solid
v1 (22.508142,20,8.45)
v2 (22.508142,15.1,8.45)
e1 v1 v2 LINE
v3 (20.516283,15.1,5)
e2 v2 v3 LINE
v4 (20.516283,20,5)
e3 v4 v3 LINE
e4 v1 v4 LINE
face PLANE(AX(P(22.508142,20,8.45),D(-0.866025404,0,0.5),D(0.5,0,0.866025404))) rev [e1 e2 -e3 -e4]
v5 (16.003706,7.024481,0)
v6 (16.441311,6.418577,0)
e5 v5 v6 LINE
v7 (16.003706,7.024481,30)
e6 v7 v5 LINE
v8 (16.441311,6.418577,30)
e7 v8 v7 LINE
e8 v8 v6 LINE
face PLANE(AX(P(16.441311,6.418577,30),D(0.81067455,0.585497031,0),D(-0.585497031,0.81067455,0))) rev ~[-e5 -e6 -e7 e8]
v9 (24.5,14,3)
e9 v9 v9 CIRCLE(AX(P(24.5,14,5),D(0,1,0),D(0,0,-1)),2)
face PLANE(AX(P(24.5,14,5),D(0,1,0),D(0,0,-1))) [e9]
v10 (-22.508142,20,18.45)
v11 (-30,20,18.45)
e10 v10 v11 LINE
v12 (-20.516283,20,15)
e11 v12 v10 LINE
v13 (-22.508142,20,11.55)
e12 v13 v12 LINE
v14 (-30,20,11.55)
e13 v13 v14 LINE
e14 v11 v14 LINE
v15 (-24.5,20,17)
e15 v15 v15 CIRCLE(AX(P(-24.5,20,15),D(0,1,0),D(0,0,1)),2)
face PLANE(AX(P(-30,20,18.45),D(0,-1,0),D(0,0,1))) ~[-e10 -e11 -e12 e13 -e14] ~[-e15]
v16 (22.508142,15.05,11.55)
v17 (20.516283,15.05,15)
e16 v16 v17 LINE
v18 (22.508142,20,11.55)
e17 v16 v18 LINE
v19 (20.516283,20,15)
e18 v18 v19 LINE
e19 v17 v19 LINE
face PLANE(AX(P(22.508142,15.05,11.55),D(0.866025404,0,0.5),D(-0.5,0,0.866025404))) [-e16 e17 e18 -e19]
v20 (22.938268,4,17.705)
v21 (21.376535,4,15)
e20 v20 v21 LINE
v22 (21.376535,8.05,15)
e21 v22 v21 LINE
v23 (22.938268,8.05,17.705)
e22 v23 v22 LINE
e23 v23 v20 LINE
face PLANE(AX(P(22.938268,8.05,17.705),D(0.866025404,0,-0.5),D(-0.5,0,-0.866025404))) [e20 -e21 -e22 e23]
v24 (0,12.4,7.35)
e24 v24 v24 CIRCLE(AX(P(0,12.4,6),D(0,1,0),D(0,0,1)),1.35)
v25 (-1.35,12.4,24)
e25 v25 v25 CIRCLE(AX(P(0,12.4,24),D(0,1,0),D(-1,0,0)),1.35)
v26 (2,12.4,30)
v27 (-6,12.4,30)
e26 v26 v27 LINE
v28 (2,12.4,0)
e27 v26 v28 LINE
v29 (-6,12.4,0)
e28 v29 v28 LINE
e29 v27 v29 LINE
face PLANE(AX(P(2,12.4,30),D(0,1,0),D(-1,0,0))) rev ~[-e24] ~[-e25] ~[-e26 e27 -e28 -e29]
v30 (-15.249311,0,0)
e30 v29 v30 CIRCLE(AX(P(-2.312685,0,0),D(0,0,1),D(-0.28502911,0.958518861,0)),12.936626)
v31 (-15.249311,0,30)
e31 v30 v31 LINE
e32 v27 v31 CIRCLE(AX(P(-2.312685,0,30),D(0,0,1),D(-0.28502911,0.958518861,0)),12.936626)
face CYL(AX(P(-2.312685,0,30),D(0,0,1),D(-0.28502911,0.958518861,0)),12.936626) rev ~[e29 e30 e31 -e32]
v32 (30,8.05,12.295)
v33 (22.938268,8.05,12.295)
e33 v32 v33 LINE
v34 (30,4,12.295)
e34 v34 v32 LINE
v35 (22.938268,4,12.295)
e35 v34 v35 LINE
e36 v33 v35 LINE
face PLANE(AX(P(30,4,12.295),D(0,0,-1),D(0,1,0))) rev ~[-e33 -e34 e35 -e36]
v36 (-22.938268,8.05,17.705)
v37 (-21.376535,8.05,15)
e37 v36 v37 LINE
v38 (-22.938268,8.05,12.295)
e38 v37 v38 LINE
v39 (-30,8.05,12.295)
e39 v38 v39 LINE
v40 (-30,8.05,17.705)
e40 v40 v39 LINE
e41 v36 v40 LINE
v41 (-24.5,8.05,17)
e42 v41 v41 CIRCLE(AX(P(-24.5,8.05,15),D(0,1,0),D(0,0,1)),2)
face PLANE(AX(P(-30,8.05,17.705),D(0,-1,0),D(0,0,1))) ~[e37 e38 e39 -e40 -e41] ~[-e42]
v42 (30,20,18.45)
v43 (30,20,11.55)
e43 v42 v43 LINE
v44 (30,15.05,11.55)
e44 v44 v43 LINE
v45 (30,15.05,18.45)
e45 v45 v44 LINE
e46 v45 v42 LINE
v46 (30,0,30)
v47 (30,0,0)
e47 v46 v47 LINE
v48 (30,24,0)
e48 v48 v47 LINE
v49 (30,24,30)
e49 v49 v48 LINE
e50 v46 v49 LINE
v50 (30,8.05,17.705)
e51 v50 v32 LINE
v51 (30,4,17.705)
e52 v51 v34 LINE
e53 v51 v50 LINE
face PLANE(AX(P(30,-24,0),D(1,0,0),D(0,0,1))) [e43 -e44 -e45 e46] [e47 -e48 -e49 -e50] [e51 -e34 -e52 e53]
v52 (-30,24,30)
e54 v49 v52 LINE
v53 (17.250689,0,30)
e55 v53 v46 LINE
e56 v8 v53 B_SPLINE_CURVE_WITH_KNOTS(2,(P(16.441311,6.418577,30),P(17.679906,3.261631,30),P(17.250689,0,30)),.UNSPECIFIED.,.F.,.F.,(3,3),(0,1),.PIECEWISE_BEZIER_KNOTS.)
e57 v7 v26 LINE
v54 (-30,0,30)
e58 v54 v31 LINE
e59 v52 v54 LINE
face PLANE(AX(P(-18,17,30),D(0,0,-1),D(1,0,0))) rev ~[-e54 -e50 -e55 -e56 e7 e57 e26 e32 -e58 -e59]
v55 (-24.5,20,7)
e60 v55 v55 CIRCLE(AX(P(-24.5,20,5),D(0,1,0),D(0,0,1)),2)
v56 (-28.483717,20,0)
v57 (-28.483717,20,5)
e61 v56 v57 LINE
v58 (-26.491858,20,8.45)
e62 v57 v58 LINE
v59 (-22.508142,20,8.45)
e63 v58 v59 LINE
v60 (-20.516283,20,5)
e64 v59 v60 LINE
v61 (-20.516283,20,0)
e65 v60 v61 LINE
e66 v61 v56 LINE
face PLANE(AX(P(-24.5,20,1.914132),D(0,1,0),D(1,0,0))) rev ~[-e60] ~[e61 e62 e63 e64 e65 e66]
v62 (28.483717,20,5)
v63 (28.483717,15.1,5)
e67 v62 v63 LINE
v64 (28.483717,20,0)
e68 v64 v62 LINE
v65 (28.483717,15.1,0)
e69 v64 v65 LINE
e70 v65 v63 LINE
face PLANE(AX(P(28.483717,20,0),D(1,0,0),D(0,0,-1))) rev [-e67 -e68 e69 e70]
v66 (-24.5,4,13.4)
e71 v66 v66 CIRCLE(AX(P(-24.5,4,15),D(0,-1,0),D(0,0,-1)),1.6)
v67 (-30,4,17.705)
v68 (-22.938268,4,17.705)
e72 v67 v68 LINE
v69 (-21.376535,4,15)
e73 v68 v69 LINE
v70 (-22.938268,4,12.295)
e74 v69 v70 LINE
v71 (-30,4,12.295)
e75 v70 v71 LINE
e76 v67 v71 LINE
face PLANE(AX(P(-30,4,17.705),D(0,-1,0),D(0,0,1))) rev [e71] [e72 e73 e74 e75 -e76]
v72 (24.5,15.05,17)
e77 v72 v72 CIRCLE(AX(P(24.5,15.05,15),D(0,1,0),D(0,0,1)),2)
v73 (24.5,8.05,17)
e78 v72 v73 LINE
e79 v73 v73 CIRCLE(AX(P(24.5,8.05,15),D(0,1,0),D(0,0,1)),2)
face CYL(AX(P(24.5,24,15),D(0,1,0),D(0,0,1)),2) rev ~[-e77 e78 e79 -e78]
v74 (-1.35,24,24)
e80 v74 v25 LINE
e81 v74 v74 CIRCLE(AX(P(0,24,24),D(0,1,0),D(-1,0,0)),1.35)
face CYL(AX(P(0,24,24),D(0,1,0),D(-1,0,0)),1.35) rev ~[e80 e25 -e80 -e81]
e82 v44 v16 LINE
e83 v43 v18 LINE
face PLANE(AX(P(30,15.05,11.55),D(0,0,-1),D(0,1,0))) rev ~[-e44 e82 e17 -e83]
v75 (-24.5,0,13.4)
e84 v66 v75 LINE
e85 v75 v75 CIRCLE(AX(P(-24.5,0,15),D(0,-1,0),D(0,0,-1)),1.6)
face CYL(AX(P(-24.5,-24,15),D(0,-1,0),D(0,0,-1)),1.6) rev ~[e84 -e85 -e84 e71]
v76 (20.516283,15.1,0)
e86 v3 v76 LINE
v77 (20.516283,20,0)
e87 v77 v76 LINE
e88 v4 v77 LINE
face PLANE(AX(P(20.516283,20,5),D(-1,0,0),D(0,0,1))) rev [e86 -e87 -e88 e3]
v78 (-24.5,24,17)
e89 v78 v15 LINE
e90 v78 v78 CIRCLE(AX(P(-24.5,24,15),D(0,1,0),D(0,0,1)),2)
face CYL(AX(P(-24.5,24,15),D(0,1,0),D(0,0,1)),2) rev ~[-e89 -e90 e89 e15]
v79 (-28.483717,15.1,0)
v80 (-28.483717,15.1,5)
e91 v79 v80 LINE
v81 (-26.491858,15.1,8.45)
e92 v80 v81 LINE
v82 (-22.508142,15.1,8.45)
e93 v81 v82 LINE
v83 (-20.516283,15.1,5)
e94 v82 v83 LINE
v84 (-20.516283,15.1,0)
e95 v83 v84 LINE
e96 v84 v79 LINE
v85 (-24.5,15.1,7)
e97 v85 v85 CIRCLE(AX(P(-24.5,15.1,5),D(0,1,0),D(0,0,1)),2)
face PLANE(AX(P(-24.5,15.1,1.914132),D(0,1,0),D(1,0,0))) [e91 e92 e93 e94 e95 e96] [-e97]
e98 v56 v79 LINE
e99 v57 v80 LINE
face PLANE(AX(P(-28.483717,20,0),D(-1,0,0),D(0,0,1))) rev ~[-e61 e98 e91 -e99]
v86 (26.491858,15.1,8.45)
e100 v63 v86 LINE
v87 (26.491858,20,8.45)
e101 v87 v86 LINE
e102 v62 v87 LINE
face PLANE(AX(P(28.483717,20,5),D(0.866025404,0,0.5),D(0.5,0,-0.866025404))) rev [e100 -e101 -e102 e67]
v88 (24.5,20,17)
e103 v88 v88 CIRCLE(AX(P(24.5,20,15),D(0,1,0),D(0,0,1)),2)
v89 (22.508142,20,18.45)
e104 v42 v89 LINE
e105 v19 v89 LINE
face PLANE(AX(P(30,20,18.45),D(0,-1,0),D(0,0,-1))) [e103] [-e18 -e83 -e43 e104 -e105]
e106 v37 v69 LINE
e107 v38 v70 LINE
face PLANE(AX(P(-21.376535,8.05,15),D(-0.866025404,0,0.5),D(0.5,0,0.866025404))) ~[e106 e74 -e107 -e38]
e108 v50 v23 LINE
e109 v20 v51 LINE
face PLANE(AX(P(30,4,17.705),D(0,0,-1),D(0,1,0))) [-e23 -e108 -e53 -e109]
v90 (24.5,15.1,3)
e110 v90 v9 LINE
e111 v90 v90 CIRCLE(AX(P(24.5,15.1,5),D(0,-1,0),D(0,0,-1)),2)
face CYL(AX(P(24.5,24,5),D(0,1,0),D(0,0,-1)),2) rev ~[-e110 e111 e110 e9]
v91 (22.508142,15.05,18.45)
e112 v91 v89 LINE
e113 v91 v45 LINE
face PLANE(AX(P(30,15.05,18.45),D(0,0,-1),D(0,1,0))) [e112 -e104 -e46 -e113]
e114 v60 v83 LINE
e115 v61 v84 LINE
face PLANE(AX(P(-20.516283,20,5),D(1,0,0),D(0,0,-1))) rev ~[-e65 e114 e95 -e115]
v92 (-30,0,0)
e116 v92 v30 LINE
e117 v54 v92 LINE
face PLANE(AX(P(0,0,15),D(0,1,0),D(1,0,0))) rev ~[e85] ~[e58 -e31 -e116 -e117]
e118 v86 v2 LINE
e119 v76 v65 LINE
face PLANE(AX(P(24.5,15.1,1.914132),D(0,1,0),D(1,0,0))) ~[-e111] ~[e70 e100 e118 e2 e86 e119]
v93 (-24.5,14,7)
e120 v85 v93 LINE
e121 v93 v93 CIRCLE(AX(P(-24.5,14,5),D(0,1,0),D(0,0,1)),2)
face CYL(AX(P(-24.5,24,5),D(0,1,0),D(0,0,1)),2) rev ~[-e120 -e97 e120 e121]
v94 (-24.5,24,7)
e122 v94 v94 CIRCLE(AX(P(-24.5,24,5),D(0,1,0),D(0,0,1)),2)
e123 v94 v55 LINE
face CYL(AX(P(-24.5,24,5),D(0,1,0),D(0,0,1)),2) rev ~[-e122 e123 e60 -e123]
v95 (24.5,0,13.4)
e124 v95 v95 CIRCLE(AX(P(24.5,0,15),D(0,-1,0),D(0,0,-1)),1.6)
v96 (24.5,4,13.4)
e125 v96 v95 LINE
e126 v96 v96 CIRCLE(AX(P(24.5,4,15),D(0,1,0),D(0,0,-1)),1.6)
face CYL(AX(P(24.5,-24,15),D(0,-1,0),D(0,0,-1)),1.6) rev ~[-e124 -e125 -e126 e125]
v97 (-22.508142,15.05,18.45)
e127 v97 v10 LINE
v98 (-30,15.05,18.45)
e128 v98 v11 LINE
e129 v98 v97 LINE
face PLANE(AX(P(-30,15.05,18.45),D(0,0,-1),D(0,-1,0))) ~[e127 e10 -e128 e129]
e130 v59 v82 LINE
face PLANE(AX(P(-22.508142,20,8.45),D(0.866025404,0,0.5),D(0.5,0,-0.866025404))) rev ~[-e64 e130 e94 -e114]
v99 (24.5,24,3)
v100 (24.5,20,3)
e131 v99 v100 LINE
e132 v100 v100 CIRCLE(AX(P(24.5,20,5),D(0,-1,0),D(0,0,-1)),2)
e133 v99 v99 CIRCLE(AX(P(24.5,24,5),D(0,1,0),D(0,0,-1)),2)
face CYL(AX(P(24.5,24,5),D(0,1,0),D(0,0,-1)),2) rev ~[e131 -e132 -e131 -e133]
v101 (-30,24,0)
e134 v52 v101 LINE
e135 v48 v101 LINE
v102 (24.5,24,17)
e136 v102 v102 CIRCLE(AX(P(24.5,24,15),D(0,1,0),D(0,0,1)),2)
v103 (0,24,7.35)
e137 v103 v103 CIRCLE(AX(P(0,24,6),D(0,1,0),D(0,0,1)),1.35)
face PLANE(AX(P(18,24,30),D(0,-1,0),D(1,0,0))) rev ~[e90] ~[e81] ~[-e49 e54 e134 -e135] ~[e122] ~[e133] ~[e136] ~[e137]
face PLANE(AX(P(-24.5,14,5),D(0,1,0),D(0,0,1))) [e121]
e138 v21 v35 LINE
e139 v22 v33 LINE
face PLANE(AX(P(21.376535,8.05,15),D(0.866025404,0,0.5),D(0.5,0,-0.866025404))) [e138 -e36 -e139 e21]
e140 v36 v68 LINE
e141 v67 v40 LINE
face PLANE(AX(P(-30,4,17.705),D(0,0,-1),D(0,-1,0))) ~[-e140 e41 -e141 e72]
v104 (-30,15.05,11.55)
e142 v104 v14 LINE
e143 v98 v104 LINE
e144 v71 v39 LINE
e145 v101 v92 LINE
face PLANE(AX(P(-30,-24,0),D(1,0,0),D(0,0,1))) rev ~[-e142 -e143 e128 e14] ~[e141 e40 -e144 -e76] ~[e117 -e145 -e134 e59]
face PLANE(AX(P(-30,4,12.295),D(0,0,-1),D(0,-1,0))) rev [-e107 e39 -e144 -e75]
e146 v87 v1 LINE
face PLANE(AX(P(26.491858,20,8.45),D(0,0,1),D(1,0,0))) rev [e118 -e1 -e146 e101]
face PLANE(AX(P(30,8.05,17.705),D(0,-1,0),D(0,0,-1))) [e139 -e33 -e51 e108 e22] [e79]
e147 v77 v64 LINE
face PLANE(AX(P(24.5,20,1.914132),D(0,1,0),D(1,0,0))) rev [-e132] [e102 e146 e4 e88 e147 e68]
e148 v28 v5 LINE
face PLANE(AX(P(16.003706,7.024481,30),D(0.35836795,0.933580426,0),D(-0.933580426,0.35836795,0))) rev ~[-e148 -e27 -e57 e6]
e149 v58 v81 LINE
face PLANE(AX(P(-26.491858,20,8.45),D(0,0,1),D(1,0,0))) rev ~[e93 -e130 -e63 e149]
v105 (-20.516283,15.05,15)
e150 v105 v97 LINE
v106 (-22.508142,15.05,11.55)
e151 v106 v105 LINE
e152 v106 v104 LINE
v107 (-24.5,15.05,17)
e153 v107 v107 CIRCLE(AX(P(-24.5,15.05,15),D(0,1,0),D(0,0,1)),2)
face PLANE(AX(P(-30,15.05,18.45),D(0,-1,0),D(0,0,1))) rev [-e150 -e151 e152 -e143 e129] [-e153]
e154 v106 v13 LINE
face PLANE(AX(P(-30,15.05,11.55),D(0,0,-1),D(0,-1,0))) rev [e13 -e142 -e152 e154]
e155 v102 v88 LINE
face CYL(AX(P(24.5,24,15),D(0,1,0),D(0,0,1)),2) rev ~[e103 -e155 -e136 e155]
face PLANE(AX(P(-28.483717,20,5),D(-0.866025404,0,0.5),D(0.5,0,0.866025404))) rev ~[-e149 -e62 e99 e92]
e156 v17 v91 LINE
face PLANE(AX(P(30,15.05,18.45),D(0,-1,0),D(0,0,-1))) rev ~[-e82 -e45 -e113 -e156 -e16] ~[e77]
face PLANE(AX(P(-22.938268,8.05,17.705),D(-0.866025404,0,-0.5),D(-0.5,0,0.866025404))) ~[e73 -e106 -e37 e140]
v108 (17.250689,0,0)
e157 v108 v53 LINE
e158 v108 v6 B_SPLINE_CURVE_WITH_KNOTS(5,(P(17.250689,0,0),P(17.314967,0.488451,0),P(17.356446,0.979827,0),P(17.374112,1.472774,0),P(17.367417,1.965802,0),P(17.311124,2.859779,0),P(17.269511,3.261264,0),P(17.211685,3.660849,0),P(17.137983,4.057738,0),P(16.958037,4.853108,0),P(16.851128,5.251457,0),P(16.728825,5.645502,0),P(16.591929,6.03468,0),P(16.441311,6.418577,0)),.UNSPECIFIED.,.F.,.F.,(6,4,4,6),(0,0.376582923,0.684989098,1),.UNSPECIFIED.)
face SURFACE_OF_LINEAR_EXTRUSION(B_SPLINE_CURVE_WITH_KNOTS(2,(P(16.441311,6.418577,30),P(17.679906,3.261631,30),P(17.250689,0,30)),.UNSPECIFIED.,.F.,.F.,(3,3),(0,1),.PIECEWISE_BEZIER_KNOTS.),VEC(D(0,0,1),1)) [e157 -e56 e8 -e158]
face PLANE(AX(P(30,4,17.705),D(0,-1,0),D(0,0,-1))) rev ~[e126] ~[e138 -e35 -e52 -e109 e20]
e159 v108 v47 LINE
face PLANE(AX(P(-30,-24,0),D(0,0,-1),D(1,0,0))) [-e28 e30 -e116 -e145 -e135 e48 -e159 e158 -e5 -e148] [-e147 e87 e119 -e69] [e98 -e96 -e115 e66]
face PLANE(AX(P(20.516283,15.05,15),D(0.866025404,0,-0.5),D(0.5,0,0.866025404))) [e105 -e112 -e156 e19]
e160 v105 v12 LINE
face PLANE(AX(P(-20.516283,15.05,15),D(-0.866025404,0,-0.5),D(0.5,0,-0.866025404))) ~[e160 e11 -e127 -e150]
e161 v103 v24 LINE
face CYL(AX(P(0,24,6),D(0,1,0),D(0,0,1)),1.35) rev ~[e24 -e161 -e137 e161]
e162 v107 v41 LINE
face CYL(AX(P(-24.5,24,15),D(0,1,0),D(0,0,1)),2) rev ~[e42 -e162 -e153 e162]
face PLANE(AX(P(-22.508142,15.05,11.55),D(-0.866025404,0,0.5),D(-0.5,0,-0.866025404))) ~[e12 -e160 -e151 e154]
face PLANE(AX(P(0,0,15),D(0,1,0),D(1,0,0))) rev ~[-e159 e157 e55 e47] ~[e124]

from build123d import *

# Parameters (mm, degrees)
SKETCH_1_W           = 60
SKETCH_1_H           = 34
EXTRUDE_1_DEPTH      = 30
SKETCH_17_W          = 12
SKETCH_17_H          = 23
EXTRUDE_8_DEPTH      = 80
SKETCH_18_R          = 2
CUT_EXTRUDE_7_DEPTH  = 10
CUT_EXTRUDE_8_DEPTH  = 66
SKETCH_20_W          = 4.5
SKETCH_20_H          = 17.2
CUT_EXTRUDE_9_DEPTH  = 8.8
SKETCH_14_R          = 1.6
CUT_EXTRUDE_6_DEPTH  = 103.708324882
EXTRUDE_START        = 7
SKETCH_21_W          = 60
SKETCH_21_H          = 30
SKETCH_21_R          = 1.6
EXTRUDE_9_DEPTH      = 7
SKETCH_22_W          = 36
SKETCH_22_H          = 30
EXTRUDE_10_DEPTH     = 7
SKETCH_27_W          = 12
SKETCH_27_H          = 50
CUT_EXTRUDE_13_DEPTH = 95.768138106
SKETCH_29_W          = 12
SKETCH_29_H          = 16
CUT_EXTRUDE_14_DEPTH = 71.710678119
SKETCH_36_W          = 12
SKETCH_36_H          = 23
CUT_EXTRUDE_21_DEPTH = 50
SKETCH_37_W          = 12
SKETCH_37_H          = 16
CUT_EXTRUDE_22_DEPTH = 59.309518948
SKETCH_38_W          = 60
SKETCH_38_H          = 30
CUT_EXTRUDE_23_DEPTH = 34
SKETCH_41_W          = 6.9
SKETCH_41_H          = 4.95
SKETCH_41_W_2        = 5.41
SKETCH_41_H_2        = 4.05
CUT_EXTRUDE_25_DEPTH = 5.5
CUT_EXTRUDE_26_DEPTH = 49.744230428
SKETCH_43_R          = 1.35
CUT_EXTRUDE_27_DEPTH = 49.7442306
SKETCH_47_R          = 1.9
CUT_EXTRUDE_29_DEPTH = 7
SKETCH_48_R          = 2
CUT_EXTRUDE_30_DEPTH = 10
CUT_EXTRUDE_START    = -4
SKETCH_49_R          = 2
CUT_EXTRUDE_31_DEPTH = 4.9
CUT_EXTRUDE_32_DEPTH = 4.05
CUT_EXTRUDE_33_DEPTH = 4.95
CUT_EXTRUDE_34_REACH = 50.744
SKETCH_53_R          = 2


with BuildPart() as part:
    # 草图1 → 凸台-拉伸1 (new body)
    with BuildSketch(Plane.XY):
        Rectangle(SKETCH_1_W, SKETCH_1_H)
    extrude(amount=EXTRUDE_1_DEPTH)

    # 草图17 → 凸台-拉伸8 (add)
    with BuildSketch(Plane(origin=(0, 0, 0), x_dir=(-1, 0, 0), z_dir=(0, 0, -1))):
        with Locations((24, 28.5)):
            Rectangle(SKETCH_17_W, SKETCH_17_H)
        with Locations((-24, 28.5)):
            Rectangle(SKETCH_17_W, SKETCH_17_H)
    extrude(amount=-EXTRUDE_8_DEPTH)

    # 草图18 → 切除-拉伸7 (cut)
    with BuildSketch(Plane.XY.offset(80)):
        with Locations((24.5, 34)):
            Circle(SKETCH_18_R)
        with Locations((24.5, 24)):
            Circle(SKETCH_18_R)
        with Locations((-24.5, 24)):
            Circle(SKETCH_18_R)
        with Locations((-24.5, 34)):
            Circle(SKETCH_18_R)
    extrude(amount=-CUT_EXTRUDE_7_DEPTH, mode=Mode.SUBTRACT)

    # 草图19 → 切除-拉伸8 (cut)
    with BuildSketch(Plane.XY.offset(30)):
        with BuildLine():
            Line((2, 12.4), (-6, 12.4))
            ThreePointArc((-6, 12.4), (-15.249310993, 0), (-6, -12.4))
            Line((-6, -12.4), (2, -12.4))
            Line((2, -12.4), (16.003706397, -7.024480757))
            ThreePointArc((16.003706397, -7.024480757), (17.250689007, 0), (16.003706397, 7.024480757))
            Line((16.003706397, 7.024480757), (2, 12.4))
        make_face()
    extrude(amount=-CUT_EXTRUDE_8_DEPTH, mode=Mode.SUBTRACT)

    # 草图20 → 切除-拉伸9 (cut)
    with BuildSketch(Plane(origin=(30, 0, 0), x_dir=(0, 0, -1), z_dir=(1, 0, 0))):
        with Locations((-67.75, 28.8)):
            Rectangle(SKETCH_20_W, SKETCH_20_H)
    cut_extrude_9 = extrude(amount=-CUT_EXTRUDE_9_DEPTH, mode=Mode.SUBTRACT)

    # 草图14 → 切除-拉伸6 (cut, through all)
    with BuildSketch(Plane.XZ.offset(17)):
        with Locations(Location((24.5, 15, 0), (0, 0, 270))):
            Circle(SKETCH_14_R)
        with Locations(Location((-24.5, 15, 0), (0, 0, 270))):
            Circle(SKETCH_14_R)
    extrude(amount=-CUT_EXTRUDE_6_DEPTH, mode=Mode.SUBTRACT)

    # 镜向3: 切除-拉伸9 across plane
    add(cut_extrude_9.mirror(Plane(origin=(0, 0, 0), x_dir=(0, 0, 1), z_dir=(1, 0, 0))), mode=Mode.SUBTRACT)

    # 草图21 → 凸台-拉伸9 (add)
    with BuildSketch(Plane.XZ.offset(17).offset(EXTRUDE_START)):
        with Locations((0, 15)):
            Rectangle(SKETCH_21_W, SKETCH_21_H)
        with Locations(Location((24.5, 15, 0), (0, 0, 270))):
            Circle(SKETCH_21_R, mode=Mode.SUBTRACT)
        with Locations(Location((-24.5, 15, 0), (0, 0, 270))):
            Circle(SKETCH_21_R, mode=Mode.SUBTRACT)
    extrude(amount=-EXTRUDE_9_DEPTH)

    # 草图22 → 凸台-拉伸10 (add)
    with BuildSketch(Plane(origin=(0, 17, 0), x_dir=(1, 0, 0), z_dir=(0, 1, 0))):
        with Locations((0, -15)):
            Rectangle(SKETCH_22_W, SKETCH_22_H)
    extrude(amount=EXTRUDE_10_DEPTH)

    # 草图27 → 切除-拉伸13 (cut, through all)
    with BuildSketch(Plane.XZ.offset(-17)):
        with Locations((24, 55)):
            Rectangle(SKETCH_27_W, SKETCH_27_H)
    extrude(amount=-CUT_EXTRUDE_13_DEPTH, mode=Mode.SUBTRACT)

    # 草图29 → 切除-拉伸14 (cut, through all)
    with BuildSketch(Plane.XY.offset(30)):
        with Locations((24, 32)):
            Rectangle(SKETCH_29_W, SKETCH_29_H)
    extrude(amount=-CUT_EXTRUDE_14_DEPTH, mode=Mode.SUBTRACT)

    # 草图36 → 切除-拉伸21 (cut)
    with BuildSketch(Plane.XY.offset(80)):
        with Locations((-24, 28.5)):
            Rectangle(SKETCH_36_W, SKETCH_36_H)
    extrude(amount=-CUT_EXTRUDE_21_DEPTH, mode=Mode.SUBTRACT)

    # 草图37 → 切除-拉伸22 (cut, through all)
    with BuildSketch(Plane.XY.offset(30)):
        with Locations((-24, 32)):
            Rectangle(SKETCH_37_W, SKETCH_37_H)
    extrude(amount=-CUT_EXTRUDE_22_DEPTH, mode=Mode.SUBTRACT)

    # 草图38 → 切除-拉伸23 (cut)
    with BuildSketch(Plane(origin=(0, 0, 0), x_dir=(1, 0, 0), z_dir=(0, 1, 0))):
        with Locations((0, -15)):
            Rectangle(SKETCH_38_W, SKETCH_38_H)
    extrude(amount=-CUT_EXTRUDE_23_DEPTH, mode=Mode.SUBTRACT)

    # 草图41 → 切除-拉伸25 (cut)
    with BuildSketch(Plane(origin=(30, 0, 0), x_dir=(0, 0, -1), z_dir=(1, 0, 0))):
        with Locations((-15, 17.525)):
            Rectangle(SKETCH_41_W, SKETCH_41_H)
        with Locations((-15, 6.025)):
            Rectangle(SKETCH_41_W_2, SKETCH_41_H_2)
    cut_extrude_25 = extrude(amount=-CUT_EXTRUDE_25_DEPTH, mode=Mode.SUBTRACT)

    # 镜向5: 切除-拉伸25 across plane
    add(cut_extrude_25.mirror(Plane(origin=(0, 0, 0), x_dir=(0, 0, 1), z_dir=(1, 0, 0))), mode=Mode.SUBTRACT)

    # 草图42 → 切除-拉伸26 (cut, through all)
    with BuildSketch(Plane.XY.offset(30)):
        with BuildLine():
            Line((16.003706397, 7.024480757), (14.503027832, 1.394480604))
            Line((14.503027832, 1.394480604), (17.250689007, 0))
            add(Edge.make_bspline(
                [(16.44131127, 6.418576517), (17.679905774, 3.26163083), (17.250689007, 0)],
                knots=[0, 0, 0, 1, 1, 1], degree=2))
            Line((16.44131127, 6.418576517), (16.003706397, 7.024480757))
        make_face()
    extrude(amount=-CUT_EXTRUDE_26_DEPTH, mode=Mode.SUBTRACT)

    # 草图43 → 切除-拉伸27 (cut, through all)
    with BuildSketch(Plane(origin=(0, 24, 0), x_dir=(1, 0, 0), z_dir=(0, 1, 0))):
        with Locations(Location((0, -6, 0), (0, 0, 270))):
            Circle(SKETCH_43_R)
        with Locations(Location((0, -24, 0), (0, 0, 180))):
            Circle(SKETCH_43_R)
    extrude(amount=-CUT_EXTRUDE_27_DEPTH, mode=Mode.SUBTRACT)

    # 草图47 → 切除-拉伸29 (cut)
    with BuildSketch(Plane(origin=(0, 24, 0), x_dir=(1, 0, 0), z_dir=(0, 1, 0))):
        with Locations(Location((-24.5, -15, 0), (0, 0, 270))):
            Circle(SKETCH_47_R)
        with Locations(Location((24.5, -15, 0), (0, 0, 270))):
            Circle(SKETCH_47_R)
    extrude(amount=-CUT_EXTRUDE_29_DEPTH, mode=Mode.SUBTRACT)

    # 草图48 → 切除-拉伸30 (cut)
    with BuildSketch(Plane(origin=(0, 24, 0), x_dir=(1, 0, 0), z_dir=(0, 1, 0))):
        with Locations(Location((-24.5, -5, 0), (0, 0, 270))):
            Circle(SKETCH_48_R)
        with Locations(Location((24.5, -5, 0), (0, 0, 90))):
            Circle(SKETCH_48_R)
    extrude(amount=-CUT_EXTRUDE_30_DEPTH, mode=Mode.SUBTRACT)

    # 草图49 → 切除-拉伸31 (cut)
    # profile 1 of 2: a face of its own
    with BuildSketch(Plane(origin=(0, 24, 0), x_dir=(1, 0, 0), z_dir=(0, 1, 0)).offset(CUT_EXTRUDE_START)):
        Polygon((-26.491858429, -8.45), (-22.508141571, -8.45), (-20.516283143, -5), (-22.508141571, -1.55), (-26.491858429, -1.55), (-28.483716857, -5), align=None)
        with Locations(Location((-24.5, -5, 0), (0, 0, 270))):
            Circle(SKETCH_49_R, mode=Mode.SUBTRACT)
    # profile 2 of 2: a face of its own
    with BuildSketch(Plane(origin=(0, 24, 0), x_dir=(1, 0, 0), z_dir=(0, 1, 0)).offset(CUT_EXTRUDE_START)):
        Polygon((-28.483716857, 0), (-28.483716857, -5), (-26.491858429, -1.55), (-22.508141571, -1.55), (-20.516283143, -5), (-20.516283143, 0), align=None)
    cut_extrude_31 = extrude(amount=-CUT_EXTRUDE_31_DEPTH, mode=Mode.SUBTRACT)

    # 镜向6: 切除-拉伸31 across plane
    add(cut_extrude_31.mirror(Plane(origin=(0, 0, 0), x_dir=(0, 0, 1), z_dir=(1, 0, 0))), mode=Mode.SUBTRACT)

    # 草图51 → 切除-拉伸32 (cut)
    with BuildSketch(Plane.XZ.offset(-8.05)):
        Polygon((26.061732478, 17.705), (22.938267522, 17.705), (21.376535044, 15), (22.938267522, 12.295), (26.061732478, 12.295), (27.623464956, 15), align=None)
    cut_extrude_32 = extrude(amount=CUT_EXTRUDE_32_DEPTH, mode=Mode.SUBTRACT)

    # 草图52 → 切除-拉伸33 (cut)
    with BuildSketch(Plane(origin=(0, 15.05, 0), x_dir=(1, 0, 0), z_dir=(0, 1, 0))):
        Polygon((26.491858429, -11.55), (22.508141571, -11.55), (20.516283143, -15), (22.508141571, -18.45), (26.491858429, -18.45), (28.483716857, -15), align=None)
    cut_extrude_33 = extrude(amount=CUT_EXTRUDE_33_DEPTH, mode=Mode.SUBTRACT)

    # 镜向7: 切除-拉伸32, 切除-拉伸33 across plane
    add(cut_extrude_32.mirror(Plane(origin=(0, 0, 0), x_dir=(0, 0, 1), z_dir=(1, 0, 0))), mode=Mode.SUBTRACT)
    add(cut_extrude_33.mirror(Plane(origin=(0, 0, 0), x_dir=(0, 0, 1), z_dir=(1, 0, 0))), mode=Mode.SUBTRACT)

    # 草图53 → 切除-拉伸34 (cut, up to next)
    with BuildSketch(Plane(origin=(0, 24, 0), x_dir=(1, 0, 0), z_dir=(0, 1, 0)), mode=Mode.PRIVATE) as cut_extrude_34_sk1:
        with Locations(Location((-24.5, -15, 0), (0, 0, 270))):
            Circle(SKETCH_53_R)
    cut_extrude_34_tool1 = extrude(cut_extrude_34_sk1.sketch, amount=-CUT_EXTRUDE_34_REACH, mode=Mode.PRIVATE) & part.part
    # 草图53 → 切除-拉伸34 (cut, up to next)
    with BuildSketch(Plane(origin=(0, 24, 0), x_dir=(1, 0, 0), z_dir=(0, 1, 0)), mode=Mode.PRIVATE) as cut_extrude_34_sk2:
        with Locations(Location((24.5, -15, 0), (0, 0, 270))):
            Circle(SKETCH_53_R)
    cut_extrude_34_tool2 = extrude(cut_extrude_34_sk2.sketch, amount=-CUT_EXTRUDE_34_REACH, mode=Mode.PRIVATE) & part.part
    add(cut_extrude_34_tool1.solids().sort_by_distance((-24.5, 24, 15))[0], mode=Mode.SUBTRACT)
    add(cut_extrude_34_tool1.solids().sort_by_distance((-24.5, 24, 15))[1], mode=Mode.SUBTRACT)
    add(cut_extrude_34_tool2.solids().sort_by_distance((24.5, 24, 15))[0], mode=Mode.SUBTRACT)
    add(cut_extrude_34_tool2.solids().sort_by_distance((24.5, 24, 15))[1], mode=Mode.SUBTRACT)


solid = part.part
